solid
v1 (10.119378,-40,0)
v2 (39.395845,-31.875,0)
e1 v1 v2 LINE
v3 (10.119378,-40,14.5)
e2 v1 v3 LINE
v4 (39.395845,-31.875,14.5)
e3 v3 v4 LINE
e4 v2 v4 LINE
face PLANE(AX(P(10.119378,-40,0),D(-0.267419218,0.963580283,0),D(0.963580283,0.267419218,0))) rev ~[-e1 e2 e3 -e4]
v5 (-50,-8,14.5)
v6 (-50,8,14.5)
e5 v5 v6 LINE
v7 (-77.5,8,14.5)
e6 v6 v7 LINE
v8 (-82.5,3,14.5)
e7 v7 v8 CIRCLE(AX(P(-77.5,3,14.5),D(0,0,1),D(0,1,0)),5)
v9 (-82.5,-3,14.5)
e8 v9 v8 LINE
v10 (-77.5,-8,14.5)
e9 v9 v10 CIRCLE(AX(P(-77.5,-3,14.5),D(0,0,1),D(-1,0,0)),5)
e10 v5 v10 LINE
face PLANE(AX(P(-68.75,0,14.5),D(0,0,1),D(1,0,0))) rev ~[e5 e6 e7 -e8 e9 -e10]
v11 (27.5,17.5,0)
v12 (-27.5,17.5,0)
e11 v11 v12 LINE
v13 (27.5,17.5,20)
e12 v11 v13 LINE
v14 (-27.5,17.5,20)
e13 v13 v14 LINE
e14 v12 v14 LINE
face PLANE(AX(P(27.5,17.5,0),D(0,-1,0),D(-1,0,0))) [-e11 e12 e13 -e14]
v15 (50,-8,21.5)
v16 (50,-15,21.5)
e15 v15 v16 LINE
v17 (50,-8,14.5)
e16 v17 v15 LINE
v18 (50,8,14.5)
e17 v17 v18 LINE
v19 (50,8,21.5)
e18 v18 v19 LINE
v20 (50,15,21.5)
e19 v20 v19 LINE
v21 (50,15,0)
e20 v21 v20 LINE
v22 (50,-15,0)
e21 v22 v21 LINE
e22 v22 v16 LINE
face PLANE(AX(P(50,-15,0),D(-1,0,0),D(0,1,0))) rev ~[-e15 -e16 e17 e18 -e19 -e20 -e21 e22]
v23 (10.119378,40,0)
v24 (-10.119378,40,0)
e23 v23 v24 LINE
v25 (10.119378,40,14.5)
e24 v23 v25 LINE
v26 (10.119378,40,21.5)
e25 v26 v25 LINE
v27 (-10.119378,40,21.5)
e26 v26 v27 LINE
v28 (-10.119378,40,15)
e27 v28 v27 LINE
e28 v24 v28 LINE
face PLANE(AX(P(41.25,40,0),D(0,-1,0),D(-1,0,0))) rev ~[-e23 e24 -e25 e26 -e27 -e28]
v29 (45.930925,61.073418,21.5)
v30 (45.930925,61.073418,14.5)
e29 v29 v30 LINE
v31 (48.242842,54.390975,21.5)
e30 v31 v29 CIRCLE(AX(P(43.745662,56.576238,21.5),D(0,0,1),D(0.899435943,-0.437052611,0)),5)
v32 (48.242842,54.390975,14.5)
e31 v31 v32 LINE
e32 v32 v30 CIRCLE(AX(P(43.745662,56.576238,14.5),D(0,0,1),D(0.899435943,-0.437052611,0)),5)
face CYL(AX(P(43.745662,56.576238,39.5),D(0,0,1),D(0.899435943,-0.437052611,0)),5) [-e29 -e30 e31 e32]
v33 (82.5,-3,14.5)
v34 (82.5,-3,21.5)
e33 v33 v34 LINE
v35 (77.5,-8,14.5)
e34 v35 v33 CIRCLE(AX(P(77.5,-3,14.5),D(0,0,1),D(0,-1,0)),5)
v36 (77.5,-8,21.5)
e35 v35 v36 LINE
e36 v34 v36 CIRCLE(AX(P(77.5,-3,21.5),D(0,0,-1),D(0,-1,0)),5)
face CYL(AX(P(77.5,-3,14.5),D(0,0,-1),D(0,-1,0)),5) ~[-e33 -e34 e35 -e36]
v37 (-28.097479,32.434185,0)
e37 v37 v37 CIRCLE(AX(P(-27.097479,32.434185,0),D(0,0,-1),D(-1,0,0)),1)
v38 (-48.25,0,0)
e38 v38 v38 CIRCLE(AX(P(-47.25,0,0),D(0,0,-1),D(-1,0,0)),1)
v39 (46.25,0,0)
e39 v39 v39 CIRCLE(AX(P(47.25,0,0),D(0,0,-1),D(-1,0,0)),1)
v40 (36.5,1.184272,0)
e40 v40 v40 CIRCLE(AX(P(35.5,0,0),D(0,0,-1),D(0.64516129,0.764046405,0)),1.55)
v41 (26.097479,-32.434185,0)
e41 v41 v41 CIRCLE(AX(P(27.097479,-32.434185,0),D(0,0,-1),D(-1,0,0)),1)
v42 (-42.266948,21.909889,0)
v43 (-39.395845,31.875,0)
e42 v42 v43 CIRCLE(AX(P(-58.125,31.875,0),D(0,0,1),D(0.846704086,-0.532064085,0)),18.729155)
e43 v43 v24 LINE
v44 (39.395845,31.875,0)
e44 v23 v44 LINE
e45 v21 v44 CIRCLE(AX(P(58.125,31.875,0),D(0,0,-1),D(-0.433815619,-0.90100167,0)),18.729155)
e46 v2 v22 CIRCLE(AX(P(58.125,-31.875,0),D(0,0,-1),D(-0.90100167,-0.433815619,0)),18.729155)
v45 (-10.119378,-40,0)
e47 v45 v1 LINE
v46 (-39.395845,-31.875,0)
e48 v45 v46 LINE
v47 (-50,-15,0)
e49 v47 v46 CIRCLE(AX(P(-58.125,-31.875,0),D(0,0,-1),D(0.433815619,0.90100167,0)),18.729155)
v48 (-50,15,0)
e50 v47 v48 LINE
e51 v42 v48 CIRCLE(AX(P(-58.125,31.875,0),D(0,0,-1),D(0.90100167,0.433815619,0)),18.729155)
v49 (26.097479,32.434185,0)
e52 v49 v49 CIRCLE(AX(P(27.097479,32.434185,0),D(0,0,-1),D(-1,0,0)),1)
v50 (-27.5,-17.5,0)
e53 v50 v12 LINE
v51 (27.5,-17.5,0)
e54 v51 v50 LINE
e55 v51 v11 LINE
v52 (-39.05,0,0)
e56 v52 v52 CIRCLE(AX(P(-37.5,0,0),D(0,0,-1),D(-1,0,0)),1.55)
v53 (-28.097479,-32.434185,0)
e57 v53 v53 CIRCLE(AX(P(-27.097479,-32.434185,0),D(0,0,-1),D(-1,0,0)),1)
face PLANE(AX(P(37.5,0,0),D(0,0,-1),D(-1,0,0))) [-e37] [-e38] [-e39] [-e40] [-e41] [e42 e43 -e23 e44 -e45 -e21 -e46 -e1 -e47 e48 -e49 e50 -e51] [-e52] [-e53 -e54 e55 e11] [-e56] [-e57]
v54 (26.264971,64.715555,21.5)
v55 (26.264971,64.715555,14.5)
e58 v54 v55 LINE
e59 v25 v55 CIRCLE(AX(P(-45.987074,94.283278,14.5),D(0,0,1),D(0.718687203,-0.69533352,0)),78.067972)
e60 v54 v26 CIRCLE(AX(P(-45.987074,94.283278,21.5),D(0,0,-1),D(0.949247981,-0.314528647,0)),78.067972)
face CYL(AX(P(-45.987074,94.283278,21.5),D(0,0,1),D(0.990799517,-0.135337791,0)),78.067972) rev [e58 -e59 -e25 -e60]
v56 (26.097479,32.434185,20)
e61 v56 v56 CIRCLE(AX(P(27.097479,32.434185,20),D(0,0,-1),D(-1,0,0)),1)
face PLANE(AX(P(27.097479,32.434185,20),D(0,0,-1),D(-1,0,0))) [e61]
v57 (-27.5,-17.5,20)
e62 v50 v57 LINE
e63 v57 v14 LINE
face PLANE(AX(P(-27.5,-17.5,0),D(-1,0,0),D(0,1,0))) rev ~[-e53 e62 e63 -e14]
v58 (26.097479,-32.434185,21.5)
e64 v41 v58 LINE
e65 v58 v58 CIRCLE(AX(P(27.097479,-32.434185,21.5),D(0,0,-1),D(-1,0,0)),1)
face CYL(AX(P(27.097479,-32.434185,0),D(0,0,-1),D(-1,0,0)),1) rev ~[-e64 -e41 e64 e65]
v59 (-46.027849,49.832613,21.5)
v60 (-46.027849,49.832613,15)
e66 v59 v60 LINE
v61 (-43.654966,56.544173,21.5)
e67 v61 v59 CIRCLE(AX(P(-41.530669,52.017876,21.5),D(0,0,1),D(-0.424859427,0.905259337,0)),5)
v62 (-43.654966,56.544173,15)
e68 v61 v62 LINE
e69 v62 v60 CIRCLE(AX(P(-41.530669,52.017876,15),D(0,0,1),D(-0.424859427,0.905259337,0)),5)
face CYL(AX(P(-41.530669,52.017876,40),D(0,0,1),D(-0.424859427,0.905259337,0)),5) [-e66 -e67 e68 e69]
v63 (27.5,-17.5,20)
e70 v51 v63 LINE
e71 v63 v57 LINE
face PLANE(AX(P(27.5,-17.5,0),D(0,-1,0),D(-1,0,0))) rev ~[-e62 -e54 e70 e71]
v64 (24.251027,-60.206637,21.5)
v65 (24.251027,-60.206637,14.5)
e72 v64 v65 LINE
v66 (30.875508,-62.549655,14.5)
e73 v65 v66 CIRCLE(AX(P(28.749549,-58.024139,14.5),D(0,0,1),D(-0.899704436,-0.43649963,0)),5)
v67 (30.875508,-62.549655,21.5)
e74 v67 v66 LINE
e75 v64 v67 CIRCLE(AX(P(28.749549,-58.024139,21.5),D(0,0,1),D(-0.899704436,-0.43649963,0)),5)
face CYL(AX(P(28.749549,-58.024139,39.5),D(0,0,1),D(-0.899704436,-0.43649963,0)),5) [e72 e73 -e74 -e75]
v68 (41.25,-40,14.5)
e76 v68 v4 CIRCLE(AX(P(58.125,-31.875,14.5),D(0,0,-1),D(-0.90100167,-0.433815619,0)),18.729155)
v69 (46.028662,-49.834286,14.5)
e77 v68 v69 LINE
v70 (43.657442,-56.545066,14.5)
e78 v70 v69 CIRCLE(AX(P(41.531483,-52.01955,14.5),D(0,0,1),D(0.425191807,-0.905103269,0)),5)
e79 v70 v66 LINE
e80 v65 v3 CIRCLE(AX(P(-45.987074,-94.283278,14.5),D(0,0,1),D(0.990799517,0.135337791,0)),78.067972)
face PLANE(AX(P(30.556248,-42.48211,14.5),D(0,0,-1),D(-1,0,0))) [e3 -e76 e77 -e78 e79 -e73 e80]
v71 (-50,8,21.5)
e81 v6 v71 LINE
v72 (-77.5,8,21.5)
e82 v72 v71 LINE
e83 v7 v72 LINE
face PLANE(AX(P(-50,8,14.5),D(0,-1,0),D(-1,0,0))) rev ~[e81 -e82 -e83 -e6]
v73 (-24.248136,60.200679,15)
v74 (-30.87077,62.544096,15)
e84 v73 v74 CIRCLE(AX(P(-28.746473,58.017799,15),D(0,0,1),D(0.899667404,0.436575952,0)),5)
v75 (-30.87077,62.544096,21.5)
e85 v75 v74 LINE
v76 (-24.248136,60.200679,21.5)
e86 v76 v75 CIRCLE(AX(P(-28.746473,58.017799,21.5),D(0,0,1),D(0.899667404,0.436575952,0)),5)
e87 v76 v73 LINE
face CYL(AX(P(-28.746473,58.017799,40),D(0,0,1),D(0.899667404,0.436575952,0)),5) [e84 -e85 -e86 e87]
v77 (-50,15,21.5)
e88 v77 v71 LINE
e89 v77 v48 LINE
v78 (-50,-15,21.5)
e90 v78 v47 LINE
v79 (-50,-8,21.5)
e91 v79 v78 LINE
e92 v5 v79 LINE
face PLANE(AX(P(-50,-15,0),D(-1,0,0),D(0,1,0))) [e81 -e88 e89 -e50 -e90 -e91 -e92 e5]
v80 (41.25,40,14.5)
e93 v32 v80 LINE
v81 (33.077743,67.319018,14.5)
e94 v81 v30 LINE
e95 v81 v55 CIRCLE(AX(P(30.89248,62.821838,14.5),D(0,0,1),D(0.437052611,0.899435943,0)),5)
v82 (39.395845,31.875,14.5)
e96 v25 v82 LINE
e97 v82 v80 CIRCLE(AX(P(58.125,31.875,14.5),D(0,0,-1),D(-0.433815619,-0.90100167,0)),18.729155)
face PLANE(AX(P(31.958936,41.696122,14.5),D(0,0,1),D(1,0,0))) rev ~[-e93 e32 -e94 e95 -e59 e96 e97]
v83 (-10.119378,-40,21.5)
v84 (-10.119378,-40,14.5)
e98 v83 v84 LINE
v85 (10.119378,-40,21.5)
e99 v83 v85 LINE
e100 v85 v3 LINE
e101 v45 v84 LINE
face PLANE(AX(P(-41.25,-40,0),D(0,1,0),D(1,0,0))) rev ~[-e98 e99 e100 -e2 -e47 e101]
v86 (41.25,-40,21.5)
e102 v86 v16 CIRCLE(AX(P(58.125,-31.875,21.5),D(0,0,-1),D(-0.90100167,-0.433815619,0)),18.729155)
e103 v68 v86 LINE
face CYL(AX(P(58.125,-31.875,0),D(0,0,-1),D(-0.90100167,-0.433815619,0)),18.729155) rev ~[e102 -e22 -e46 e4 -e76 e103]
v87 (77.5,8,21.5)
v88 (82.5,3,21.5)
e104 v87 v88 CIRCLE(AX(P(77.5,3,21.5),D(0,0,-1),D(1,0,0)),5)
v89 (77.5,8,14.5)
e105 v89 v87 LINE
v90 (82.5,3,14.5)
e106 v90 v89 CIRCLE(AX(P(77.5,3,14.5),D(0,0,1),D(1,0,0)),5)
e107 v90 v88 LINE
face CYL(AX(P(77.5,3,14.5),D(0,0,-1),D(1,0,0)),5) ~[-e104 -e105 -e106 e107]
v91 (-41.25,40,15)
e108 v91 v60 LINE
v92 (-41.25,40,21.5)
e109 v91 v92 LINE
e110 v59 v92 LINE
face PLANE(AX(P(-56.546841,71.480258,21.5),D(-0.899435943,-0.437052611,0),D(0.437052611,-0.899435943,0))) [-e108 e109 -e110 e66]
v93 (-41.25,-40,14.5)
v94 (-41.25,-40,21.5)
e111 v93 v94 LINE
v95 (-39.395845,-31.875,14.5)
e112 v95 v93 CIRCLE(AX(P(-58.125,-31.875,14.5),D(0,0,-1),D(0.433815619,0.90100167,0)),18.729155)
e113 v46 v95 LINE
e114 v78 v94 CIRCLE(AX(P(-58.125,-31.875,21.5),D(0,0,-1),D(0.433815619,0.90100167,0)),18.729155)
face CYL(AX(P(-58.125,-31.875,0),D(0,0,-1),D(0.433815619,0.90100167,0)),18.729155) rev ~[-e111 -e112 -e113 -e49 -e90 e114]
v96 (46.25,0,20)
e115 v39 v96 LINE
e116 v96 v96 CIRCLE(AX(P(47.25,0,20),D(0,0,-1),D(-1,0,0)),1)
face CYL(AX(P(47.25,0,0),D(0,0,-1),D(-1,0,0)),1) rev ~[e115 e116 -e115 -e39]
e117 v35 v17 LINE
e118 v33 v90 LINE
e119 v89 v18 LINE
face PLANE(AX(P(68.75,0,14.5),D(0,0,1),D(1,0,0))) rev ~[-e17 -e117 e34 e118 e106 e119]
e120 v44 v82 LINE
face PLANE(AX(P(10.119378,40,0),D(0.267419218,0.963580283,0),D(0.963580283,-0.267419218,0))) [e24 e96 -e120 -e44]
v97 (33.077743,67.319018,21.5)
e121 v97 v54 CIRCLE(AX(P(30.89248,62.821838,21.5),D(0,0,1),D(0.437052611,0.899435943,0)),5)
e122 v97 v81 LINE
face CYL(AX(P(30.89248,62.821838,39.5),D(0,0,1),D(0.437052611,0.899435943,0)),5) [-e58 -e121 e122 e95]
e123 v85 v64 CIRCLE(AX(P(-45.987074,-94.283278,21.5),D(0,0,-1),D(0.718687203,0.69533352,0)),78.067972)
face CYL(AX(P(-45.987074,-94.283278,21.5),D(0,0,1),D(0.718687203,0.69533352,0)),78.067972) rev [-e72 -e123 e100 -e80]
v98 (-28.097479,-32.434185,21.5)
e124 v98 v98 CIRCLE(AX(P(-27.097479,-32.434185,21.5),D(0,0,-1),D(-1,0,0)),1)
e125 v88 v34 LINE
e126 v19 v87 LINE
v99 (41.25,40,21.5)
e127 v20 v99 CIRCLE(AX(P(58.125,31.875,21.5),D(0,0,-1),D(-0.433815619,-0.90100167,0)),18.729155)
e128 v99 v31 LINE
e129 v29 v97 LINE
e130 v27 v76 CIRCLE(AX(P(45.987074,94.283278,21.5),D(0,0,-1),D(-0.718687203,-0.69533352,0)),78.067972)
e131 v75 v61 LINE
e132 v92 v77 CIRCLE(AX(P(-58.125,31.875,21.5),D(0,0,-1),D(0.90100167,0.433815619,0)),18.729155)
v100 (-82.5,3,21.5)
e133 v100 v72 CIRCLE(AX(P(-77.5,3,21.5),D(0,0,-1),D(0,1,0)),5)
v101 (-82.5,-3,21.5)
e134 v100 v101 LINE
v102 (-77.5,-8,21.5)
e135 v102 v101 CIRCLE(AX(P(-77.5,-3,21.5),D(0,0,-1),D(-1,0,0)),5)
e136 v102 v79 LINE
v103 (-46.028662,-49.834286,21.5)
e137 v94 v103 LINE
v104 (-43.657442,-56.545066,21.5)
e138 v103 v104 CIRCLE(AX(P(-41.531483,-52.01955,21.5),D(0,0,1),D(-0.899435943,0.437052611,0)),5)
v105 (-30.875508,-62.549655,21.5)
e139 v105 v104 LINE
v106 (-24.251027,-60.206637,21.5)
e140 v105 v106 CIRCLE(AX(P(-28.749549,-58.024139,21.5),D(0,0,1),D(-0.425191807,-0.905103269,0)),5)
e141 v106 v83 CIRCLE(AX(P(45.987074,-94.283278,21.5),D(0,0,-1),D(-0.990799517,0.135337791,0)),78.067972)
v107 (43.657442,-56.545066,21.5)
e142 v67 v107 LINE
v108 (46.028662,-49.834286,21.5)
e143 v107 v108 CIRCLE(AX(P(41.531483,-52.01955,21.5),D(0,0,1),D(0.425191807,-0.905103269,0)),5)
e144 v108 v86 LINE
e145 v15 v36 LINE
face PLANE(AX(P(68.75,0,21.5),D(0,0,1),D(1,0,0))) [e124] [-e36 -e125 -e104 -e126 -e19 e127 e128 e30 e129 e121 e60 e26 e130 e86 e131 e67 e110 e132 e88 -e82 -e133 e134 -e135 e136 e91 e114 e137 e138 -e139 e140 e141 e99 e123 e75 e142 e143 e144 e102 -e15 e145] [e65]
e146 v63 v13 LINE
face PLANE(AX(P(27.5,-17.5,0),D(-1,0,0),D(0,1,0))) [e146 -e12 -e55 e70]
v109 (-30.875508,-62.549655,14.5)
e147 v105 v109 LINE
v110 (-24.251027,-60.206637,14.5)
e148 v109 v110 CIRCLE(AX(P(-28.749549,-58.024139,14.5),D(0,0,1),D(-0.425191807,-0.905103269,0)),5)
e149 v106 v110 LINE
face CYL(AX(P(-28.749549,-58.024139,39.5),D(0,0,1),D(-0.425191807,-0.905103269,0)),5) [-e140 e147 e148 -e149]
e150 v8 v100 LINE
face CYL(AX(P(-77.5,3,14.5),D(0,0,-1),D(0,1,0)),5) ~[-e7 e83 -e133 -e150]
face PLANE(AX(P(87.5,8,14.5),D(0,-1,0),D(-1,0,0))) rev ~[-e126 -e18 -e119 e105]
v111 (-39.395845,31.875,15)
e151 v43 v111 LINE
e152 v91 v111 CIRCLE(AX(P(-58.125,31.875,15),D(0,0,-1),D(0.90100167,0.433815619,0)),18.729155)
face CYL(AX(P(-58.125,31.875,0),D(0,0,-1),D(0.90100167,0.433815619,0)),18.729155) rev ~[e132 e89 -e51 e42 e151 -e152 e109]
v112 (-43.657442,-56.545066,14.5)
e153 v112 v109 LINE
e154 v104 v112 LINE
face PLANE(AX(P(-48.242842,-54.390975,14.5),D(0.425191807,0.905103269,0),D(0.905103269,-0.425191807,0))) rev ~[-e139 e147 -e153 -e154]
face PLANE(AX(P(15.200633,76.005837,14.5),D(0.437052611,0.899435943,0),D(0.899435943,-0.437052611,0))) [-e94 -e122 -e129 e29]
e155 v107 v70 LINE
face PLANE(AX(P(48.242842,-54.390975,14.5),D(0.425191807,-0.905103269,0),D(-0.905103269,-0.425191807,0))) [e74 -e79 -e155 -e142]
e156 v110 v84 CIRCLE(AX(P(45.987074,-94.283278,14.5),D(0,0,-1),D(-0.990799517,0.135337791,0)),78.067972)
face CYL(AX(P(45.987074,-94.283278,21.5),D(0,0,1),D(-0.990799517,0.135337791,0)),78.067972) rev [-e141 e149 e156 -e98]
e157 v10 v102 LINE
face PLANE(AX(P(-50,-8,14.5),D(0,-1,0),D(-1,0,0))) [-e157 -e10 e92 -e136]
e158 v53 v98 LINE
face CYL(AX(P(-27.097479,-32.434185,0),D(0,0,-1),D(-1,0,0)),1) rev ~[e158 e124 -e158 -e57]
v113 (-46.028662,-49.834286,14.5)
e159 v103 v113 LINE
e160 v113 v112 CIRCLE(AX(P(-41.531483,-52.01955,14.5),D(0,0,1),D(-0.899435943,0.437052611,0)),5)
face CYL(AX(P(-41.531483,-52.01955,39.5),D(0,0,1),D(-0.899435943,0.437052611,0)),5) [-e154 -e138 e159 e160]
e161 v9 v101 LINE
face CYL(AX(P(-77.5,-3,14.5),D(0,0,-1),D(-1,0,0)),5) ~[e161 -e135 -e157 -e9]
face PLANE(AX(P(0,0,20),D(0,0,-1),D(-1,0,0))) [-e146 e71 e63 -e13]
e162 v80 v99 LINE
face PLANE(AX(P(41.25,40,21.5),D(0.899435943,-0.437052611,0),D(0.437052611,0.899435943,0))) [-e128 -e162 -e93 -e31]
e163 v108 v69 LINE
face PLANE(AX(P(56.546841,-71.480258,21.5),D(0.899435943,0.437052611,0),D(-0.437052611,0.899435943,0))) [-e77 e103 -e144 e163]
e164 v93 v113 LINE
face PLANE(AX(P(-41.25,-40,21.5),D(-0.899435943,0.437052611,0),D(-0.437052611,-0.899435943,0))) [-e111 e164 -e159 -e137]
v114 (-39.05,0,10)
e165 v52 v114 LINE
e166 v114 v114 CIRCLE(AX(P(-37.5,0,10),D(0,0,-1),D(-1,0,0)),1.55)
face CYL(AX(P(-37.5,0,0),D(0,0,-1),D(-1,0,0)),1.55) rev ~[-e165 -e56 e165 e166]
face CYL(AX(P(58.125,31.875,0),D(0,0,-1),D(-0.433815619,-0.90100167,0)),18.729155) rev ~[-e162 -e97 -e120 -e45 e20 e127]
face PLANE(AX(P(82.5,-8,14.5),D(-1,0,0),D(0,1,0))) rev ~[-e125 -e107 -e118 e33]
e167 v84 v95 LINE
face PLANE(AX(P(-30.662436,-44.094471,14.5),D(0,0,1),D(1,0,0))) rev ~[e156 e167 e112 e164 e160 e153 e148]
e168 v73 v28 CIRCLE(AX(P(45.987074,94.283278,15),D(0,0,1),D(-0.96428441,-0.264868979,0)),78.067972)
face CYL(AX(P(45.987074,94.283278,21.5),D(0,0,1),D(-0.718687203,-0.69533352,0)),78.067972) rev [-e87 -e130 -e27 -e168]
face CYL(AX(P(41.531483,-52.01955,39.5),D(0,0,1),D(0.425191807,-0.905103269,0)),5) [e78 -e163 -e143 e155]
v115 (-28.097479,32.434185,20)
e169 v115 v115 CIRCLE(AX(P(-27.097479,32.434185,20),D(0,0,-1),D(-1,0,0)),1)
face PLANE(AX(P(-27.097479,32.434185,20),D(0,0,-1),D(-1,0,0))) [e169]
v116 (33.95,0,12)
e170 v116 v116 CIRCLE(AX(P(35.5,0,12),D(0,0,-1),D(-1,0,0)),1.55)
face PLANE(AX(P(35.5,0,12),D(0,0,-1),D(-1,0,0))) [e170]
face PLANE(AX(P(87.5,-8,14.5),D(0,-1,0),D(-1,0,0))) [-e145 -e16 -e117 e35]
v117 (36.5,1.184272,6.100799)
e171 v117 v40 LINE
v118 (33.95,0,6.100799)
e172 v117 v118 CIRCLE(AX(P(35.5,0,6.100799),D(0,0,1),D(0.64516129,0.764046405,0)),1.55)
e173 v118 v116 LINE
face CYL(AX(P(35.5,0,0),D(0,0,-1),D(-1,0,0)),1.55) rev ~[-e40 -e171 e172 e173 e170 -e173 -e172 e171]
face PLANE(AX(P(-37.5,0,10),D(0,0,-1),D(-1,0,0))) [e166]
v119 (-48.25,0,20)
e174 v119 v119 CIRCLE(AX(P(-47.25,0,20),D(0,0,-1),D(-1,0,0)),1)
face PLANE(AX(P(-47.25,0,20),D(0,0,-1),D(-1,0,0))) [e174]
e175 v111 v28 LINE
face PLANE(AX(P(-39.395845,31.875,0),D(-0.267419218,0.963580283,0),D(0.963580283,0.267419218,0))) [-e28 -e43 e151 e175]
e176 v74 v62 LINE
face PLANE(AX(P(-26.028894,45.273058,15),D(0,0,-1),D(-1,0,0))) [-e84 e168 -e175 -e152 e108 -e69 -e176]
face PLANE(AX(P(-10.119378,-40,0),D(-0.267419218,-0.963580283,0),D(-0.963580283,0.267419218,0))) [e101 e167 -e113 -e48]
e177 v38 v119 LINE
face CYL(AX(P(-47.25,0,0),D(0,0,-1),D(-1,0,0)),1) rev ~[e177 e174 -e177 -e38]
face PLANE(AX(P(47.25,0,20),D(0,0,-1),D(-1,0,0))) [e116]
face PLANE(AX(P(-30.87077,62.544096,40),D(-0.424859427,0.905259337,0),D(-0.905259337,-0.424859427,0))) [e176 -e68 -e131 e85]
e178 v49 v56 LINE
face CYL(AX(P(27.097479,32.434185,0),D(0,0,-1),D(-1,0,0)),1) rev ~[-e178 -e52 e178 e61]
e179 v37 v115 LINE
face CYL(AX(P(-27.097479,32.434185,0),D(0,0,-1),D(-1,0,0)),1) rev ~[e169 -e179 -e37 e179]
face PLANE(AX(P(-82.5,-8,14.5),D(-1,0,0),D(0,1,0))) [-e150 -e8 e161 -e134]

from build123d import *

# Parameters (mm, degrees)
SKETCH_1_W           = 65
SKETCH_1_H           = 25
SKETCH_1_W_2         = 17.5
SKETCH_1_H_2         = 30
EXTRUDE_1_DEPTH      = 21.5
SKETCH_2_W           = 37.5
SKETCH_2_H           = 30
EXTRUDE_2_DEPTH      = 7
CUT_EXTRUDE_21_DEPTH = 15
CUT_EXTRUDE_23_DEPTH = 14.5
CUT_EXTRUDE_24_DEPTH = 14.5
CUT_EXTRUDE_25_DEPTH = 14.5
CUT_EXTRUDE_27_DEPTH = 14.5
CUT_EXTRUDE_28_DEPTH = 0.5
CUT_EXTRUDE_START    = -10
CUT_EXTRUDE_32_DEPTH = 10
SKETCH_14_W          = 37.5
SKETCH_14_H          = 7
CUT_EXTRUDE_33_DEPTH = 10
SKETCH_15_R          = 1
CUT_EXTRUDE_34_DEPTH = 30
EXTRUDE_3_DEPTH      = 20
SKETCH_18_R          = 1
CUT_EXTRUDE_35_DEPTH = 20
SKETCH_19_R          = 1
CUT_EXTRUDE_36_DEPTH = 20
SKETCH_20_W          = 55
SKETCH_20_H          = 35
CUT_EXTRUDE_37_DEPTH = 20
SKETCH_21_W          = 35.200875269
SKETCH_21_H          = 10.973883626
CUT_EXTRUDE_38_DEPTH = 26
SKETCH_25_W          = 4.333842745
SKETCH_25_H          = 3.588286738
CUT_EXTRUDE_41_DEPTH = 26
CUT_EXTRUDE_42_DEPTH = 23
SKETCH_29_W          = 5
SKETCH_29_H          = 16
CUT_EXTRUDE_43_DEPTH = 23
SKETCH_30_R          = 1.55
CUT_EXTRUDE_44_DEPTH = 10
SKETCH_31_R          = 1.55
CUT_EXTRUDE_45_DEPTH = 6.100799321
SKETCH_32_R          = 1.55
EXTRUDE_4_DEPTH      = 15
SKETCH_33_R          = 1.55
CUT_EXTRUDE_46_DEPTH = 12
CUT_EXTRUDE_49_DEPTH = 10
CUT_EXTRUDE_50_DEPTH = 25
CUT_EXTRUDE_START_2  = -25
CUT_EXTRUDE_51_DEPTH = 25
CUT_EXTRUDE_52_DEPTH = 25
CUT_EXTRUDE_55_DEPTH = 25
CUT_EXTRUDE_56_DEPTH = 25
CUT_EXTRUDE_59_DEPTH = 25
CUT_EXTRUDE_60_DEPTH = 25
CUT_EXTRUDE_61_DEPTH = 25
CUT_EXTRUDE_62_DEPTH = 25
CUT_EXTRUDE_63_DEPTH = 25


with BuildPart() as part:
    # 草图1 → 凸台-拉伸1 (new body)
    with BuildSketch(Plane.XY):
        with Locations((0, 27.5)):
            Rectangle(SKETCH_1_W, SKETCH_1_H)
        with BuildLine():
            ThreePointArc((-41.25, 40), (-40.44733047, 25.687815665), (-50, 15))
            Line((-50, 15), (-32.5, 15))
            Line((-32.5, 15), (-32.5, 40))
            Line((-32.5, 40), (-41.25, 40))
        make_face()
        with BuildLine():
            Line((32.5, 40), (32.5, 15))
            Line((32.5, 15), (50, 15))
            ThreePointArc((50, 15), (40.44733047, 25.687815665), (41.25, 40))
            Line((41.25, 40), (32.5, 40))
        make_face()
        with Locations((41.25, 0)):
            Rectangle(SKETCH_1_W_2, SKETCH_1_H_2)
        Rectangle(SKETCH_1_W, SKETCH_1_H_2)
        with Locations((-41.25, 0)):
            Rectangle(SKETCH_1_W_2, SKETCH_1_H_2)
        with BuildLine():
            ThreePointArc((-50, -15), (-40.44733047, -25.687815665), (-41.25, -40))
            Line((-41.25, -40), (-32.5, -40))
            Line((-32.5, -40), (-32.5, -15))
            Line((-32.5, -15), (-50, -15))
        make_face()
        with Locations((0, -27.5)):
            Rectangle(SKETCH_1_W, SKETCH_1_H)
        with BuildLine():
            Line((32.5, -15), (32.5, -40))
            Line((32.5, -40), (41.25, -40))
            ThreePointArc((41.25, -40), (40.44733047, -25.687815665), (50, -15))
            Line((50, -15), (32.5, -15))
        make_face()
    extrude(amount=EXTRUDE_1_DEPTH)

    # 草图2 → 凸台-拉伸2 (add)
    with BuildSketch(Plane.XY.offset(21.5)):
        with Locations((68.75, 0)):
            Rectangle(SKETCH_2_W, SKETCH_2_H)
        with BuildLine():
            ThreePointArc((31.362634986, 83.717731106), (24.230066028, 60.16346689), (10.119378388, 40))
            Line((10.119378388, 40), (41.25, 40))
            Line((41.25, 40), (56.546841385, 71.480257998))
            Line((56.546841385, 71.480257998), (31.362634986, 83.717731106))
        make_face()
        with BuildLine():
            Line((-56.546841385, 71.480257998), (-41.25, 40))
            Line((-41.25, 40), (-10.119378388, 40))
            ThreePointArc((-10.119378388, 40), (-24.230066028, 60.16346689), (-31.362634986, 83.717731106))
            Line((-31.362634986, 83.717731106), (-56.546841385, 71.480257998))
        make_face()
        with Locations((-68.75, 0)):
            Rectangle(SKETCH_2_W, SKETCH_2_H)
        with BuildLine():
            ThreePointArc((-31.362634986, -83.717731106), (-24.230066028, -60.16346689), (-10.119378388, -40))
            Line((-10.119378388, -40), (-41.25, -40))
            Line((-41.25, -40), (-56.546841385, -71.480257998))
            Line((-56.546841385, -71.480257998), (-31.362634986, -83.717731106))
        make_face()
        with BuildLine():
            Line((41.25, -40), (10.119378388, -40))
            ThreePointArc((10.119378388, -40), (24.230066028, -60.16346689), (31.362634986, -83.717731106))
            Line((31.362634986, -83.717731106), (56.546841385, -71.480257998))
            Line((56.546841385, -71.480257998), (41.25, -40))
        make_face()
    extrude(amount=-EXTRUDE_2_DEPTH)

    # 草图6 → 切除-拉伸21 (cut)
    with BuildSketch(Plane(origin=(0, 0, 0), x_dir=(-1, 0, 0), z_dir=(0, 0, -1))):
        Polygon((10.119378388, 40), (39.39584492, 31.875), (56.837191822, 38.348903147), (0, 62.639769561), align=None)
    extrude(amount=-CUT_EXTRUDE_21_DEPTH, mode=Mode.SUBTRACT)

    # 草图7 → 切除-拉伸23 (cut)
    with BuildSketch(Plane(origin=(0, 0, 0), x_dir=(-1, 0, 0), z_dir=(0, 0, -1))):
        Polygon((-10.119378388, -40), (-39.39584492, -31.875), (-53.358394545, -39.771171687), (-19.086589639, -55.987329608), align=None)
    extrude(amount=-CUT_EXTRUDE_23_DEPTH, mode=Mode.SUBTRACT)

    # 草图9 → 切除-拉伸24 (cut)
    with BuildSketch(Plane(origin=(0, 0, 0), x_dir=(-1, 0, 0), z_dir=(0, 0, -1))):
        Polygon((-10.119378388, 40), (-39.39584492, 31.875), (-58.125, 43.883609099), (-7.923028206, 48.831046035), align=None)
    extrude(amount=-CUT_EXTRUDE_24_DEPTH, mode=Mode.SUBTRACT)

    # 草图10 → 切除-拉伸25 (cut)
    with BuildSketch(Plane(origin=(0, 0, 0), x_dir=(-1, 0, 0), z_dir=(0, 0, -1))):
        Polygon((10.119378388, 40), (42.266947865, 21.909889239), (59.804647536, 30.954944619), (0, 68.202746977), align=None)
    extrude(amount=-CUT_EXTRUDE_25_DEPTH, mode=Mode.SUBTRACT)

    # 草图11 → 切除-拉伸27 (cut)
    with BuildSketch(Plane(origin=(0, 0, 0), x_dir=(-1, 0, 0), z_dir=(0, 0, -1))):
        Polygon((10.119378388, -40), (39.39584492, -31.875), (61.586062569, -40), (5.344245099, -59.295671812), align=None)
    extrude(amount=-CUT_EXTRUDE_27_DEPTH, mode=Mode.SUBTRACT)

    # 草图12 → 切除-拉伸28 (cut)
    with BuildSketch(Plane(origin=(0, 0, 14.5), x_dir=(-1, 0, 0), z_dir=(0, 0, -1))):
        Polygon((10.119378388, 40), (42.266947865, 21.909889239), (51.083391038, 30.954944619), (39.39584492, 31.875), align=None)
    extrude(amount=-CUT_EXTRUDE_28_DEPTH, mode=Mode.SUBTRACT)

    # 草图13 → 切除-拉伸32 (cut)
    with BuildSketch(Plane(origin=(0, 0, 14.5), x_dir=(-1, 0, 0), z_dir=(0, 0, -1)).offset(CUT_EXTRUDE_START)):
        Polygon((10.58865897, 82.694112306), (52.176315275, 62.48589857), (56.546841385, 71.480257998), (17.786028214, 90.314856211), align=None)
        Polygon((-14.643214372, 80.723928615), (-19.490898913, 89.48642791), (-56.546841385, 71.480257998), (-52.176315275, 62.48589857), align=None)
        Polygon((-52.176315275, -62.48589857), (-56.546841385, -71.480257998), (-18.055185597, -90.184067645), (-12.656512081, -81.689304116), align=None)
        with BuildLine():
            Line((31.362634986, -83.717731106), (56.546841385, -71.480257998))
            Line((56.546841385, -71.480257998), (52.176315275, -62.48589857))
            Line((52.176315275, -62.48589857), (29.292654399, -73.605493929))
            ThreePointArc((29.292654399, -73.605493929), (30.494954113, -78.627364186), (31.362634986, -83.717731106))
        make_face()
    extrude(amount=CUT_EXTRUDE_32_DEPTH, mode=Mode.SUBTRACT)

    # 草图14 → 切除-拉伸33 (cut)
    with BuildSketch(Plane(origin=(0, 0, 14.5), x_dir=(-1, 0, 0), z_dir=(0, 0, -1))):
        with Locations((68.75, -11.5)):
            Rectangle(SKETCH_14_W, SKETCH_14_H)
        with Locations((-68.75, -11.5)):
            Rectangle(SKETCH_14_W, SKETCH_14_H)
        with Locations((68.75, 11.5)):
            Rectangle(SKETCH_14_W, SKETCH_14_H)
        with Locations((-68.75, 11.5)):
            Rectangle(SKETCH_14_W, SKETCH_14_H)
    extrude(amount=-CUT_EXTRUDE_33_DEPTH, mode=Mode.SUBTRACT)

    # 草图15 → 切除-拉伸34 (cut)
    with BuildSketch(Plane(origin=(0, 0, 0), x_dir=(-1, 0, 0), z_dir=(0, 0, -1))):
        with Locations((-27.097478675, -32.434184843)):
            Circle(SKETCH_15_R)
        with Locations((27.097478675, -32.434184843)):
            Circle(SKETCH_15_R)
    extrude(amount=-CUT_EXTRUDE_34_DEPTH, mode=Mode.SUBTRACT)

    # 草图17 → 凸台-拉伸3 (add)
    with BuildSketch(Plane(origin=(0, 0, 0), x_dir=(-1, 0, 0), z_dir=(0, 0, -1))):
        with BuildLine():
            ThreePointArc((42.266947865, 21.909889239), (40.127928465, 26.6897646), (39.39584492, 31.875))
            Line((39.39584492, 31.875), (10.119378388, 40))
            Line((10.119378388, 40), (42.266947865, 21.909889239))
        make_face()
    extrude(amount=-EXTRUDE_3_DEPTH)

    # 草图18 → 切除-拉伸35 (cut)
    with BuildSketch(Plane(origin=(0, 0, 0), x_dir=(-1, 0, 0), z_dir=(0, 0, -1))):
        with Locations((-27.097478675, 32.434184843)):
            Circle(SKETCH_18_R)
        with Locations((27.097478675, 32.434184843)):
            Circle(SKETCH_18_R)
    extrude(amount=-CUT_EXTRUDE_35_DEPTH, mode=Mode.SUBTRACT)

    # 草图19 → 切除-拉伸36 (cut)
    with BuildSketch(Plane(origin=(0, 0, 0), x_dir=(-1, 0, 0), z_dir=(0, 0, -1))):
        with Locations((-47.25, 0)):
            Circle(SKETCH_19_R)
        with Locations((47.25, 0)):
            Circle(SKETCH_19_R)
    extrude(amount=-CUT_EXTRUDE_36_DEPTH, mode=Mode.SUBTRACT)

    # 草图20 → 切除-拉伸37 (cut)
    with BuildSketch(Plane(origin=(0, 0, 0), x_dir=(-1, 0, 0), z_dir=(0, 0, -1))):
        Rectangle(SKETCH_20_W, SKETCH_20_H)
    extrude(amount=-CUT_EXTRUDE_37_DEPTH, mode=Mode.SUBTRACT)

    # 草图21 → 切除-拉伸38 (cut)
    with BuildSketch(Plane(origin=(-22.636232033, 52.965581396, 0), x_dir=(0.9195424781856313, 0.39299062433120197, 0), z_dir=(0.3929906243312019, -0.9195424781856312, 0))):
        with Locations((-4.83440857, 9.513058187)):
            Rectangle(SKETCH_21_W, SKETCH_21_H)
    extrude(amount=-CUT_EXTRUDE_38_DEPTH, mode=Mode.SUBTRACT)

    # 草图25 → 切除-拉伸41 (cut)
    with BuildSketch(Plane(origin=(-34.529716487, 71.060708302, 0), x_dir=(0.8994359428084866, 0.4370526110026218, 0), z_dir=(-0.4370526110026218, 0.8994359428084866, 0))):
        with Locations((-20.7982707, -13.205856631)):
            Rectangle(SKETCH_25_W, SKETCH_25_H)
    extrude(amount=-CUT_EXTRUDE_41_DEPTH, mode=Mode.SUBTRACT)

    # 草图28 → 切除-拉伸42 (cut)
    with BuildSketch(Plane(origin=(0, 0, 14.5), x_dir=(-1, 0, 0), z_dir=(0, 0, -1))):
        Polygon((52.176315275, -66.088986914), (50.428104831, -62.491243143), (15.200632854, -79.608925319), (16.948843298, -83.20666909), align=None)
        Polygon((56.312132831, -59.632084777), (58.060343275, -63.229828548), (52.176315275, -66.088986914), (50.428104831, -62.491243143), align=None)
        Polygon((-52.176315275, -66.088986914), (-50.428104831, -62.491243143), (-15.200632854, -79.608925319), (-16.948843298, -83.20666909), align=None)
        Polygon((-50.428104831, -62.491243143), (-58.790509719, -58.427795468), (-60.538720163, -62.025539239), (-52.176315275, -66.088986914), align=None)
        Polygon((-16.948843298, 79.603580746), (-15.200632854, 76.005836975), (-50.428104831, 58.888154799), (-52.176315275, 62.48589857), align=None)
        Polygon((52.176315275, 62.48589857), (50.428104831, 58.888154799), (15.200632854, 76.005836975), (16.948843298, 79.603580746), align=None)
    extrude(amount=-CUT_EXTRUDE_42_DEPTH, mode=Mode.SUBTRACT)

    # 草图29 → 切除-拉伸43 (cut)
    with BuildSketch(Plane(origin=(0, 0, 14.5), x_dir=(-1, 0, 0), z_dir=(0, 0, -1))):
        with Locations((-85, 0)):
            Rectangle(SKETCH_29_W, SKETCH_29_H)
        with Locations((85, 0)):
            Rectangle(SKETCH_29_W, SKETCH_29_H)
    extrude(amount=-CUT_EXTRUDE_43_DEPTH, mode=Mode.SUBTRACT)

    # 草图30 → 切除-拉伸44 (cut)
    with BuildSketch(Plane(origin=(0, 0, 0), x_dir=(-1, 0, 0), z_dir=(0, 0, -1))):
        with Locations((-37.5, 0)):
            Circle(SKETCH_30_R)
        with Locations((37.5, 0)):
            Circle(SKETCH_30_R)
    extrude(amount=-CUT_EXTRUDE_44_DEPTH, mode=Mode.SUBTRACT)

    # 草图31 → 切除-拉伸45 (cut)
    with BuildSketch(Plane(origin=(0, 0, 0), x_dir=(-1, 0, 0), z_dir=(0, 0, -1))):
        with Locations((-35.5, 0)):
            Circle(SKETCH_31_R)
    extrude(amount=-CUT_EXTRUDE_45_DEPTH, mode=Mode.SUBTRACT)

    # 草图32 → 凸台-拉伸4 (add)
    with BuildSketch(Plane(origin=(0, 0, 0), x_dir=(-1, 0, 0), z_dir=(0, 0, -1))):
        with Locations((-37.5, 0)):
            Circle(SKETCH_32_R)
    extrude(amount=-EXTRUDE_4_DEPTH)

    # 草图33 → 切除-拉伸46 (cut)
    with BuildSketch(Plane(origin=(0, 0, 0), x_dir=(-1, 0, 0), z_dir=(0, 0, -1))):
        with Locations((-35.5, 0)):
            Circle(SKETCH_33_R)
    extrude(amount=-CUT_EXTRUDE_46_DEPTH, mode=Mode.SUBTRACT)

    # 草图34 → 切除-拉伸49 (cut)
    with BuildSketch(Plane(origin=(0, 0, 14.5), x_dir=(-1, 0, 0), z_dir=(0, 0, -1))):
        with BuildLine():
            ThreePointArc((-77.5, -8), (-81.035533906, -6.535533906), (-82.5, -3))
            Line((-82.5, -3), (-82.5, -8))
            Line((-82.5, -8), (-77.5, -8))
        make_face()
        with BuildLine():
            Line((-82.5, 8), (-82.5, 3))
            ThreePointArc((-82.5, 3), (-81.035533906, 6.535533906), (-77.5, 8))
            Line((-77.5, 8), (-82.5, 8))
        make_face()
    extrude(amount=-CUT_EXTRUDE_49_DEPTH, mode=Mode.SUBTRACT)

    # 草图35 → 切除-拉伸50 (cut)
    with BuildSketch(Plane(origin=(0, 0, 14.5), x_dir=(-1, 0, 0), z_dir=(0, 0, -1))):
        with BuildLine():
            ThreePointArc((77.5, 8), (81.035533906, 6.535533906), (82.5, 3))
            Line((82.5, 3), (82.5, 8))
            Line((82.5, 8), (77.5, 8))
        make_face()
        with BuildLine():
            Line((82.5, -8), (82.5, -3))
            ThreePointArc((82.5, -3), (81.035533906, -6.535533906), (77.5, -8))
            Line((77.5, -8), (82.5, -8))
        make_face()
    extrude(amount=-CUT_EXTRUDE_50_DEPTH, mode=Mode.SUBTRACT)

    # 草图36 → 切除-拉伸51 (cut)
    with BuildSketch(Plane(origin=(0, 0, 14.5), x_dir=(-1, 0, 0), z_dir=(0, 0, -1)).offset(CUT_EXTRUDE_START_2)):
        with BuildLine():
            Line((-39.504333919, 72.905748912), (-33.07774272, 67.319017634))
            Line((-33.07774272, 67.319017634), (-28.118790882, 69.728664331))
            ThreePointArc((-28.118790882, 69.728664331), (-27.234796071, 67.206239647), (-26.264970905, 64.715554549))
            Line((-26.264970905, 64.715554549), (-25.306223542, 81.095943274))
            Line((-25.306223542, 81.095943274), (-42.89977916, 80.277638362))
            Line((-42.89977916, 80.277638362), (-39.504333919, 72.905748912))
        make_face()
        with BuildLine():
            ThreePointArc((33.07774272, 67.319017634), (29.107641849, 67.49242182), (26.264970905, 64.715554549))
            Line((26.264970905, 64.715554549), (17.767775768, 67.655318894))
            Line((17.767775768, 67.655318894), (26.848615448, 84.035744568))
            Line((26.848615448, 84.035744568), (28.820085623, 82.942817867))
            Line((28.820085623, 82.942817867), (36.635790353, 76.148509543))
            Line((36.635790353, 76.148509543), (33.07774272, 67.319017634))
        make_face()
        with BuildLine():
            ThreePointArc((48.242841776, 54.390975085), (48.470862659, 58.211010087), (45.930925117, 61.073417854))
            Line((45.930925117, 61.073417854), (49.061020363, 72.905748912))
            Line((49.061020363, 72.905748912), (54.994649752, 67.747556664))
            Line((54.994649752, 67.747556664), (55.514245962, 56.57623814))
            Line((55.514245962, 56.57623814), (53.680238507, 49.643355378))
            Line((53.680238507, 49.643355378), (48.242841776, 54.390975085))
        make_face()
        Polygon((-50.428104831, 58.888154799), (-45.930925117, 61.073417854), (-63.983419753, 67.319017634), (-64.704769924, 65.234002496), (-70.71583432, 54.390975085), (-54.957172435, 54.390975085), (-48.242841776, 54.390975085), align=None)
        with BuildLine():
            ThreePointArc((-33.07774272, -67.319017634), (-29.107641849, -67.49242182), (-26.264970905, -64.715554549))
            Line((-26.264970905, -64.715554549), (-14.718652678, -84.390540589))
            Line((-14.718652678, -84.390540589), (-54.027273861, -84.390540589))
            Line((-54.027273861, -84.390540589), (-58.903907316, -66.214912835))
            Line((-58.903907316, -66.214912835), (-58.903907316, -48.480785147))
            Line((-58.903907316, -48.480785147), (-48.242841776, -54.390975085))
            ThreePointArc((-48.242841776, -54.390975085), (-48.470862659, -58.211010087), (-45.930925117, -61.073417854))
            Line((-45.930925117, -61.073417854), (-33.07774272, -67.319017634))
        make_face()
        with BuildLine():
            Line((58.121394099, -59.411456741), (48.242841776, -54.390975085))
            ThreePointArc((48.242841776, -54.390975085), (48.470862659, -58.211010087), (45.930925117, -61.073417854))
            Line((45.930925117, -61.073417854), (33.07774272, -67.319017634))
            ThreePointArc((33.07774272, -67.319017634), (29.107641849, -67.49242182), (26.264970905, -64.715554549))
            Line((26.264970905, -64.715554549), (16.254972156, -74.725553298))
            Line((16.254972156, -74.725553298), (33.07774272, -82.900049612))
            Line((33.07774272, -82.900049612), (53.413827114, -73.018368929))
            Line((53.413827114, -73.018368929), (58.121394099, -59.411456741))
        make_face()
    extrude(amount=CUT_EXTRUDE_51_DEPTH, mode=Mode.SUBTRACT)

    # 草图37 → 切除-拉伸52 (cut)
    with BuildSketch(Plane(origin=(0, 0, 14.5), x_dir=(-1, 0, 0), z_dir=(0, 0, -1)).offset(CUT_EXTRUDE_START_2)):
        Polygon((-50.428104831, -58.888154799), (-49.456267727, -56.888154799), (-21.56050538, -70.443223247), (-22.532342484, -72.443223247), align=None)
        Polygon((50.428104831, -58.888154799), (49.456267727, -56.888154799), (21.56050538, -70.443223247), (22.532342484, -72.443223247), align=None)
        Polygon((50.428104831, 58.888154799), (49.456267727, 56.888154799), (21.56050538, 70.443223247), (22.532342484, 72.443223247), align=None)
        with BuildLine():
            Line((-22.532342484, 72.443223247), (-28.118790882, 69.728664331))
            ThreePointArc((-28.118790882, 69.728664331), (-27.759024767, 68.668415535), (-27.384090311, 67.61343529))
            Line((-27.384090311, 67.61343529), (-21.56050538, 70.443223247))
            Line((-21.56050538, 70.443223247), (-22.532342484, 72.443223247))
        make_face()
    extrude(amount=CUT_EXTRUDE_52_DEPTH, mode=Mode.SUBTRACT)

    # 草图38 → 切除-拉伸55 (cut)
    with BuildSketch(Plane(origin=(0, 0, 14.5), x_dir=(-1, 0, 0), z_dir=(0, 0, -1)).offset(CUT_EXTRUDE_START_2)):
        with BuildLine():
            Line((-28.118790882, 69.728664331), (-33.07774272, 67.319017634))
            ThreePointArc((-33.07774272, 67.319017634), (-29.107641849, 67.49242182), (-26.264970905, 64.715554549))
            ThreePointArc((-26.264970905, 64.715554549), (-27.234796071, 67.206239647), (-28.118790882, 69.728664331))
        make_face()
        with BuildLine():
            ThreePointArc((-48.242841776, 54.390975085), (-48.470862659, 58.211010087), (-45.930925117, 61.073417854))
            Line((-45.930925117, 61.073417854), (-50.428104831, 58.888154799))
            Line((-50.428104831, 58.888154799), (-48.242841776, 54.390975085))
        make_face()
    extrude(amount=CUT_EXTRUDE_55_DEPTH, mode=Mode.SUBTRACT)

    # 草图39 → 切除-拉伸56 (cut)
    with BuildSketch(Plane(origin=(0, 0, 15), x_dir=(-1, 0, 0), z_dir=(0, 0, -1))):
        Polygon((48.242841776, 54.390975085), (26.264970905, 64.715554549), (26.264970905, 71.368116994), (43.745662062, 64.715554549), (54.453178614, 55.789663045), align=None)
    extrude(amount=-CUT_EXTRUDE_56_DEPTH, mode=Mode.SUBTRACT)

    # 草图40 → 切除-拉伸59 (cut)
    with BuildSketch(Plane(origin=(0, 0, 15), x_dir=(-1, 0, 0), z_dir=(0, 0, -1)).offset(CUT_EXTRUDE_START_2)):
        with BuildLine():
            ThreePointArc((43.654966399, 56.544172545), (46.244717147, 53.684534957), (46.027848977, 49.832612805))
            Line((46.027848977, 49.832612805), (48.242841776, 54.390975085))
            Line((48.242841776, 54.390975085), (26.264970905, 64.715554549))
            ThreePointArc((26.264970905, 64.715554549), (25.292309142, 62.442144189), (24.248135755, 60.200678708))
            ThreePointArc((24.248135755, 60.200678708), (27.078564785, 62.731405098), (30.870769912, 62.544095633))
            Line((30.870769912, 62.544095633), (43.654966399, 56.544172545))
        make_face()
    extrude(amount=CUT_EXTRUDE_59_DEPTH, mode=Mode.SUBTRACT)

    # 草图41 → 切除-拉伸60 (cut)
    with BuildSketch(Plane(origin=(0, 0, 14.5), x_dir=(-1, 0, 0), z_dir=(0, 0, -1))):
        Polygon((-48.242841776, -54.390975085), (-26.264970905, -64.715554549), (-33.307203091, -81.924037924), (-55.077325326, -68.939499551), (-59.769437842, -58.193271975), align=None)
    extrude(amount=-CUT_EXTRUDE_60_DEPTH, mode=Mode.SUBTRACT)

    # 草图42 → 切除-拉伸61 (cut)
    with BuildSketch(Plane(origin=(0, 0, 14.5), x_dir=(-1, 0, 0), z_dir=(0, 0, -1)).offset(CUT_EXTRUDE_START_2)):
        with BuildLine():
            Line((-48.242841776, -54.390975085), (-43.657441558, -56.545065861))
            ThreePointArc((-43.657441558, -56.545065861), (-46.245836324, -53.685343094), (-46.028662238, -49.834286462))
            Line((-46.028662238, -49.834286462), (-48.242841776, -54.390975085))
        make_face()
        with BuildLine():
            ThreePointArc((-24.25102678, -60.206636989), (-27.082306467, -62.737980421), (-30.875507996, -62.549655184))
            Line((-30.875507996, -62.549655184), (-26.264970905, -64.715554549))
            ThreePointArc((-26.264970905, -64.715554549), (-25.293659643, -62.445167587), (-24.25102678, -60.206636989))
        make_face()
    extrude(amount=CUT_EXTRUDE_61_DEPTH, mode=Mode.SUBTRACT)

    # 草图43 → 切除-拉伸62 (cut)
    with BuildSketch(Plane(origin=(0, 0, 14.5), x_dir=(-1, 0, 0), z_dir=(0, 0, -1))):
        Polygon((48.242841776, -54.390975085), (26.264970905, -64.715554549), (26.264970905, -68.825223873), (37.25390634, -68.825223873), (50.755702933, -62.482463347), (52.393430427, -53.453956599), align=None)
    extrude(amount=-CUT_EXTRUDE_62_DEPTH, mode=Mode.SUBTRACT)

    # 草图44 → 切除-拉伸63 (cut)
    with BuildSketch(Plane(origin=(0, 0, 14.5), x_dir=(-1, 0, 0), z_dir=(0, 0, -1)).offset(CUT_EXTRUDE_START_2)):
        with BuildLine():
            Line((26.264970905, -64.715554549), (30.875507996, -62.549655184))
            ThreePointArc((30.875507996, -62.549655184), (27.082306467, -62.737980421), (24.25102678, -60.206636989))
            ThreePointArc((24.25102678, -60.206636989), (25.293659643, -62.445167587), (26.264970905, -64.715554549))
        make_face()
        with BuildLine():
            ThreePointArc((46.028662238, -49.834286462), (46.245836324, -53.685343094), (43.657441558, -56.545065861))
            Line((43.657441558, -56.545065861), (48.242841776, -54.390975085))
            Line((48.242841776, -54.390975085), (46.028662238, -49.834286462))
        make_face()
    extrude(amount=CUT_EXTRUDE_63_DEPTH, mode=Mode.SUBTRACT)


solid = part.part
